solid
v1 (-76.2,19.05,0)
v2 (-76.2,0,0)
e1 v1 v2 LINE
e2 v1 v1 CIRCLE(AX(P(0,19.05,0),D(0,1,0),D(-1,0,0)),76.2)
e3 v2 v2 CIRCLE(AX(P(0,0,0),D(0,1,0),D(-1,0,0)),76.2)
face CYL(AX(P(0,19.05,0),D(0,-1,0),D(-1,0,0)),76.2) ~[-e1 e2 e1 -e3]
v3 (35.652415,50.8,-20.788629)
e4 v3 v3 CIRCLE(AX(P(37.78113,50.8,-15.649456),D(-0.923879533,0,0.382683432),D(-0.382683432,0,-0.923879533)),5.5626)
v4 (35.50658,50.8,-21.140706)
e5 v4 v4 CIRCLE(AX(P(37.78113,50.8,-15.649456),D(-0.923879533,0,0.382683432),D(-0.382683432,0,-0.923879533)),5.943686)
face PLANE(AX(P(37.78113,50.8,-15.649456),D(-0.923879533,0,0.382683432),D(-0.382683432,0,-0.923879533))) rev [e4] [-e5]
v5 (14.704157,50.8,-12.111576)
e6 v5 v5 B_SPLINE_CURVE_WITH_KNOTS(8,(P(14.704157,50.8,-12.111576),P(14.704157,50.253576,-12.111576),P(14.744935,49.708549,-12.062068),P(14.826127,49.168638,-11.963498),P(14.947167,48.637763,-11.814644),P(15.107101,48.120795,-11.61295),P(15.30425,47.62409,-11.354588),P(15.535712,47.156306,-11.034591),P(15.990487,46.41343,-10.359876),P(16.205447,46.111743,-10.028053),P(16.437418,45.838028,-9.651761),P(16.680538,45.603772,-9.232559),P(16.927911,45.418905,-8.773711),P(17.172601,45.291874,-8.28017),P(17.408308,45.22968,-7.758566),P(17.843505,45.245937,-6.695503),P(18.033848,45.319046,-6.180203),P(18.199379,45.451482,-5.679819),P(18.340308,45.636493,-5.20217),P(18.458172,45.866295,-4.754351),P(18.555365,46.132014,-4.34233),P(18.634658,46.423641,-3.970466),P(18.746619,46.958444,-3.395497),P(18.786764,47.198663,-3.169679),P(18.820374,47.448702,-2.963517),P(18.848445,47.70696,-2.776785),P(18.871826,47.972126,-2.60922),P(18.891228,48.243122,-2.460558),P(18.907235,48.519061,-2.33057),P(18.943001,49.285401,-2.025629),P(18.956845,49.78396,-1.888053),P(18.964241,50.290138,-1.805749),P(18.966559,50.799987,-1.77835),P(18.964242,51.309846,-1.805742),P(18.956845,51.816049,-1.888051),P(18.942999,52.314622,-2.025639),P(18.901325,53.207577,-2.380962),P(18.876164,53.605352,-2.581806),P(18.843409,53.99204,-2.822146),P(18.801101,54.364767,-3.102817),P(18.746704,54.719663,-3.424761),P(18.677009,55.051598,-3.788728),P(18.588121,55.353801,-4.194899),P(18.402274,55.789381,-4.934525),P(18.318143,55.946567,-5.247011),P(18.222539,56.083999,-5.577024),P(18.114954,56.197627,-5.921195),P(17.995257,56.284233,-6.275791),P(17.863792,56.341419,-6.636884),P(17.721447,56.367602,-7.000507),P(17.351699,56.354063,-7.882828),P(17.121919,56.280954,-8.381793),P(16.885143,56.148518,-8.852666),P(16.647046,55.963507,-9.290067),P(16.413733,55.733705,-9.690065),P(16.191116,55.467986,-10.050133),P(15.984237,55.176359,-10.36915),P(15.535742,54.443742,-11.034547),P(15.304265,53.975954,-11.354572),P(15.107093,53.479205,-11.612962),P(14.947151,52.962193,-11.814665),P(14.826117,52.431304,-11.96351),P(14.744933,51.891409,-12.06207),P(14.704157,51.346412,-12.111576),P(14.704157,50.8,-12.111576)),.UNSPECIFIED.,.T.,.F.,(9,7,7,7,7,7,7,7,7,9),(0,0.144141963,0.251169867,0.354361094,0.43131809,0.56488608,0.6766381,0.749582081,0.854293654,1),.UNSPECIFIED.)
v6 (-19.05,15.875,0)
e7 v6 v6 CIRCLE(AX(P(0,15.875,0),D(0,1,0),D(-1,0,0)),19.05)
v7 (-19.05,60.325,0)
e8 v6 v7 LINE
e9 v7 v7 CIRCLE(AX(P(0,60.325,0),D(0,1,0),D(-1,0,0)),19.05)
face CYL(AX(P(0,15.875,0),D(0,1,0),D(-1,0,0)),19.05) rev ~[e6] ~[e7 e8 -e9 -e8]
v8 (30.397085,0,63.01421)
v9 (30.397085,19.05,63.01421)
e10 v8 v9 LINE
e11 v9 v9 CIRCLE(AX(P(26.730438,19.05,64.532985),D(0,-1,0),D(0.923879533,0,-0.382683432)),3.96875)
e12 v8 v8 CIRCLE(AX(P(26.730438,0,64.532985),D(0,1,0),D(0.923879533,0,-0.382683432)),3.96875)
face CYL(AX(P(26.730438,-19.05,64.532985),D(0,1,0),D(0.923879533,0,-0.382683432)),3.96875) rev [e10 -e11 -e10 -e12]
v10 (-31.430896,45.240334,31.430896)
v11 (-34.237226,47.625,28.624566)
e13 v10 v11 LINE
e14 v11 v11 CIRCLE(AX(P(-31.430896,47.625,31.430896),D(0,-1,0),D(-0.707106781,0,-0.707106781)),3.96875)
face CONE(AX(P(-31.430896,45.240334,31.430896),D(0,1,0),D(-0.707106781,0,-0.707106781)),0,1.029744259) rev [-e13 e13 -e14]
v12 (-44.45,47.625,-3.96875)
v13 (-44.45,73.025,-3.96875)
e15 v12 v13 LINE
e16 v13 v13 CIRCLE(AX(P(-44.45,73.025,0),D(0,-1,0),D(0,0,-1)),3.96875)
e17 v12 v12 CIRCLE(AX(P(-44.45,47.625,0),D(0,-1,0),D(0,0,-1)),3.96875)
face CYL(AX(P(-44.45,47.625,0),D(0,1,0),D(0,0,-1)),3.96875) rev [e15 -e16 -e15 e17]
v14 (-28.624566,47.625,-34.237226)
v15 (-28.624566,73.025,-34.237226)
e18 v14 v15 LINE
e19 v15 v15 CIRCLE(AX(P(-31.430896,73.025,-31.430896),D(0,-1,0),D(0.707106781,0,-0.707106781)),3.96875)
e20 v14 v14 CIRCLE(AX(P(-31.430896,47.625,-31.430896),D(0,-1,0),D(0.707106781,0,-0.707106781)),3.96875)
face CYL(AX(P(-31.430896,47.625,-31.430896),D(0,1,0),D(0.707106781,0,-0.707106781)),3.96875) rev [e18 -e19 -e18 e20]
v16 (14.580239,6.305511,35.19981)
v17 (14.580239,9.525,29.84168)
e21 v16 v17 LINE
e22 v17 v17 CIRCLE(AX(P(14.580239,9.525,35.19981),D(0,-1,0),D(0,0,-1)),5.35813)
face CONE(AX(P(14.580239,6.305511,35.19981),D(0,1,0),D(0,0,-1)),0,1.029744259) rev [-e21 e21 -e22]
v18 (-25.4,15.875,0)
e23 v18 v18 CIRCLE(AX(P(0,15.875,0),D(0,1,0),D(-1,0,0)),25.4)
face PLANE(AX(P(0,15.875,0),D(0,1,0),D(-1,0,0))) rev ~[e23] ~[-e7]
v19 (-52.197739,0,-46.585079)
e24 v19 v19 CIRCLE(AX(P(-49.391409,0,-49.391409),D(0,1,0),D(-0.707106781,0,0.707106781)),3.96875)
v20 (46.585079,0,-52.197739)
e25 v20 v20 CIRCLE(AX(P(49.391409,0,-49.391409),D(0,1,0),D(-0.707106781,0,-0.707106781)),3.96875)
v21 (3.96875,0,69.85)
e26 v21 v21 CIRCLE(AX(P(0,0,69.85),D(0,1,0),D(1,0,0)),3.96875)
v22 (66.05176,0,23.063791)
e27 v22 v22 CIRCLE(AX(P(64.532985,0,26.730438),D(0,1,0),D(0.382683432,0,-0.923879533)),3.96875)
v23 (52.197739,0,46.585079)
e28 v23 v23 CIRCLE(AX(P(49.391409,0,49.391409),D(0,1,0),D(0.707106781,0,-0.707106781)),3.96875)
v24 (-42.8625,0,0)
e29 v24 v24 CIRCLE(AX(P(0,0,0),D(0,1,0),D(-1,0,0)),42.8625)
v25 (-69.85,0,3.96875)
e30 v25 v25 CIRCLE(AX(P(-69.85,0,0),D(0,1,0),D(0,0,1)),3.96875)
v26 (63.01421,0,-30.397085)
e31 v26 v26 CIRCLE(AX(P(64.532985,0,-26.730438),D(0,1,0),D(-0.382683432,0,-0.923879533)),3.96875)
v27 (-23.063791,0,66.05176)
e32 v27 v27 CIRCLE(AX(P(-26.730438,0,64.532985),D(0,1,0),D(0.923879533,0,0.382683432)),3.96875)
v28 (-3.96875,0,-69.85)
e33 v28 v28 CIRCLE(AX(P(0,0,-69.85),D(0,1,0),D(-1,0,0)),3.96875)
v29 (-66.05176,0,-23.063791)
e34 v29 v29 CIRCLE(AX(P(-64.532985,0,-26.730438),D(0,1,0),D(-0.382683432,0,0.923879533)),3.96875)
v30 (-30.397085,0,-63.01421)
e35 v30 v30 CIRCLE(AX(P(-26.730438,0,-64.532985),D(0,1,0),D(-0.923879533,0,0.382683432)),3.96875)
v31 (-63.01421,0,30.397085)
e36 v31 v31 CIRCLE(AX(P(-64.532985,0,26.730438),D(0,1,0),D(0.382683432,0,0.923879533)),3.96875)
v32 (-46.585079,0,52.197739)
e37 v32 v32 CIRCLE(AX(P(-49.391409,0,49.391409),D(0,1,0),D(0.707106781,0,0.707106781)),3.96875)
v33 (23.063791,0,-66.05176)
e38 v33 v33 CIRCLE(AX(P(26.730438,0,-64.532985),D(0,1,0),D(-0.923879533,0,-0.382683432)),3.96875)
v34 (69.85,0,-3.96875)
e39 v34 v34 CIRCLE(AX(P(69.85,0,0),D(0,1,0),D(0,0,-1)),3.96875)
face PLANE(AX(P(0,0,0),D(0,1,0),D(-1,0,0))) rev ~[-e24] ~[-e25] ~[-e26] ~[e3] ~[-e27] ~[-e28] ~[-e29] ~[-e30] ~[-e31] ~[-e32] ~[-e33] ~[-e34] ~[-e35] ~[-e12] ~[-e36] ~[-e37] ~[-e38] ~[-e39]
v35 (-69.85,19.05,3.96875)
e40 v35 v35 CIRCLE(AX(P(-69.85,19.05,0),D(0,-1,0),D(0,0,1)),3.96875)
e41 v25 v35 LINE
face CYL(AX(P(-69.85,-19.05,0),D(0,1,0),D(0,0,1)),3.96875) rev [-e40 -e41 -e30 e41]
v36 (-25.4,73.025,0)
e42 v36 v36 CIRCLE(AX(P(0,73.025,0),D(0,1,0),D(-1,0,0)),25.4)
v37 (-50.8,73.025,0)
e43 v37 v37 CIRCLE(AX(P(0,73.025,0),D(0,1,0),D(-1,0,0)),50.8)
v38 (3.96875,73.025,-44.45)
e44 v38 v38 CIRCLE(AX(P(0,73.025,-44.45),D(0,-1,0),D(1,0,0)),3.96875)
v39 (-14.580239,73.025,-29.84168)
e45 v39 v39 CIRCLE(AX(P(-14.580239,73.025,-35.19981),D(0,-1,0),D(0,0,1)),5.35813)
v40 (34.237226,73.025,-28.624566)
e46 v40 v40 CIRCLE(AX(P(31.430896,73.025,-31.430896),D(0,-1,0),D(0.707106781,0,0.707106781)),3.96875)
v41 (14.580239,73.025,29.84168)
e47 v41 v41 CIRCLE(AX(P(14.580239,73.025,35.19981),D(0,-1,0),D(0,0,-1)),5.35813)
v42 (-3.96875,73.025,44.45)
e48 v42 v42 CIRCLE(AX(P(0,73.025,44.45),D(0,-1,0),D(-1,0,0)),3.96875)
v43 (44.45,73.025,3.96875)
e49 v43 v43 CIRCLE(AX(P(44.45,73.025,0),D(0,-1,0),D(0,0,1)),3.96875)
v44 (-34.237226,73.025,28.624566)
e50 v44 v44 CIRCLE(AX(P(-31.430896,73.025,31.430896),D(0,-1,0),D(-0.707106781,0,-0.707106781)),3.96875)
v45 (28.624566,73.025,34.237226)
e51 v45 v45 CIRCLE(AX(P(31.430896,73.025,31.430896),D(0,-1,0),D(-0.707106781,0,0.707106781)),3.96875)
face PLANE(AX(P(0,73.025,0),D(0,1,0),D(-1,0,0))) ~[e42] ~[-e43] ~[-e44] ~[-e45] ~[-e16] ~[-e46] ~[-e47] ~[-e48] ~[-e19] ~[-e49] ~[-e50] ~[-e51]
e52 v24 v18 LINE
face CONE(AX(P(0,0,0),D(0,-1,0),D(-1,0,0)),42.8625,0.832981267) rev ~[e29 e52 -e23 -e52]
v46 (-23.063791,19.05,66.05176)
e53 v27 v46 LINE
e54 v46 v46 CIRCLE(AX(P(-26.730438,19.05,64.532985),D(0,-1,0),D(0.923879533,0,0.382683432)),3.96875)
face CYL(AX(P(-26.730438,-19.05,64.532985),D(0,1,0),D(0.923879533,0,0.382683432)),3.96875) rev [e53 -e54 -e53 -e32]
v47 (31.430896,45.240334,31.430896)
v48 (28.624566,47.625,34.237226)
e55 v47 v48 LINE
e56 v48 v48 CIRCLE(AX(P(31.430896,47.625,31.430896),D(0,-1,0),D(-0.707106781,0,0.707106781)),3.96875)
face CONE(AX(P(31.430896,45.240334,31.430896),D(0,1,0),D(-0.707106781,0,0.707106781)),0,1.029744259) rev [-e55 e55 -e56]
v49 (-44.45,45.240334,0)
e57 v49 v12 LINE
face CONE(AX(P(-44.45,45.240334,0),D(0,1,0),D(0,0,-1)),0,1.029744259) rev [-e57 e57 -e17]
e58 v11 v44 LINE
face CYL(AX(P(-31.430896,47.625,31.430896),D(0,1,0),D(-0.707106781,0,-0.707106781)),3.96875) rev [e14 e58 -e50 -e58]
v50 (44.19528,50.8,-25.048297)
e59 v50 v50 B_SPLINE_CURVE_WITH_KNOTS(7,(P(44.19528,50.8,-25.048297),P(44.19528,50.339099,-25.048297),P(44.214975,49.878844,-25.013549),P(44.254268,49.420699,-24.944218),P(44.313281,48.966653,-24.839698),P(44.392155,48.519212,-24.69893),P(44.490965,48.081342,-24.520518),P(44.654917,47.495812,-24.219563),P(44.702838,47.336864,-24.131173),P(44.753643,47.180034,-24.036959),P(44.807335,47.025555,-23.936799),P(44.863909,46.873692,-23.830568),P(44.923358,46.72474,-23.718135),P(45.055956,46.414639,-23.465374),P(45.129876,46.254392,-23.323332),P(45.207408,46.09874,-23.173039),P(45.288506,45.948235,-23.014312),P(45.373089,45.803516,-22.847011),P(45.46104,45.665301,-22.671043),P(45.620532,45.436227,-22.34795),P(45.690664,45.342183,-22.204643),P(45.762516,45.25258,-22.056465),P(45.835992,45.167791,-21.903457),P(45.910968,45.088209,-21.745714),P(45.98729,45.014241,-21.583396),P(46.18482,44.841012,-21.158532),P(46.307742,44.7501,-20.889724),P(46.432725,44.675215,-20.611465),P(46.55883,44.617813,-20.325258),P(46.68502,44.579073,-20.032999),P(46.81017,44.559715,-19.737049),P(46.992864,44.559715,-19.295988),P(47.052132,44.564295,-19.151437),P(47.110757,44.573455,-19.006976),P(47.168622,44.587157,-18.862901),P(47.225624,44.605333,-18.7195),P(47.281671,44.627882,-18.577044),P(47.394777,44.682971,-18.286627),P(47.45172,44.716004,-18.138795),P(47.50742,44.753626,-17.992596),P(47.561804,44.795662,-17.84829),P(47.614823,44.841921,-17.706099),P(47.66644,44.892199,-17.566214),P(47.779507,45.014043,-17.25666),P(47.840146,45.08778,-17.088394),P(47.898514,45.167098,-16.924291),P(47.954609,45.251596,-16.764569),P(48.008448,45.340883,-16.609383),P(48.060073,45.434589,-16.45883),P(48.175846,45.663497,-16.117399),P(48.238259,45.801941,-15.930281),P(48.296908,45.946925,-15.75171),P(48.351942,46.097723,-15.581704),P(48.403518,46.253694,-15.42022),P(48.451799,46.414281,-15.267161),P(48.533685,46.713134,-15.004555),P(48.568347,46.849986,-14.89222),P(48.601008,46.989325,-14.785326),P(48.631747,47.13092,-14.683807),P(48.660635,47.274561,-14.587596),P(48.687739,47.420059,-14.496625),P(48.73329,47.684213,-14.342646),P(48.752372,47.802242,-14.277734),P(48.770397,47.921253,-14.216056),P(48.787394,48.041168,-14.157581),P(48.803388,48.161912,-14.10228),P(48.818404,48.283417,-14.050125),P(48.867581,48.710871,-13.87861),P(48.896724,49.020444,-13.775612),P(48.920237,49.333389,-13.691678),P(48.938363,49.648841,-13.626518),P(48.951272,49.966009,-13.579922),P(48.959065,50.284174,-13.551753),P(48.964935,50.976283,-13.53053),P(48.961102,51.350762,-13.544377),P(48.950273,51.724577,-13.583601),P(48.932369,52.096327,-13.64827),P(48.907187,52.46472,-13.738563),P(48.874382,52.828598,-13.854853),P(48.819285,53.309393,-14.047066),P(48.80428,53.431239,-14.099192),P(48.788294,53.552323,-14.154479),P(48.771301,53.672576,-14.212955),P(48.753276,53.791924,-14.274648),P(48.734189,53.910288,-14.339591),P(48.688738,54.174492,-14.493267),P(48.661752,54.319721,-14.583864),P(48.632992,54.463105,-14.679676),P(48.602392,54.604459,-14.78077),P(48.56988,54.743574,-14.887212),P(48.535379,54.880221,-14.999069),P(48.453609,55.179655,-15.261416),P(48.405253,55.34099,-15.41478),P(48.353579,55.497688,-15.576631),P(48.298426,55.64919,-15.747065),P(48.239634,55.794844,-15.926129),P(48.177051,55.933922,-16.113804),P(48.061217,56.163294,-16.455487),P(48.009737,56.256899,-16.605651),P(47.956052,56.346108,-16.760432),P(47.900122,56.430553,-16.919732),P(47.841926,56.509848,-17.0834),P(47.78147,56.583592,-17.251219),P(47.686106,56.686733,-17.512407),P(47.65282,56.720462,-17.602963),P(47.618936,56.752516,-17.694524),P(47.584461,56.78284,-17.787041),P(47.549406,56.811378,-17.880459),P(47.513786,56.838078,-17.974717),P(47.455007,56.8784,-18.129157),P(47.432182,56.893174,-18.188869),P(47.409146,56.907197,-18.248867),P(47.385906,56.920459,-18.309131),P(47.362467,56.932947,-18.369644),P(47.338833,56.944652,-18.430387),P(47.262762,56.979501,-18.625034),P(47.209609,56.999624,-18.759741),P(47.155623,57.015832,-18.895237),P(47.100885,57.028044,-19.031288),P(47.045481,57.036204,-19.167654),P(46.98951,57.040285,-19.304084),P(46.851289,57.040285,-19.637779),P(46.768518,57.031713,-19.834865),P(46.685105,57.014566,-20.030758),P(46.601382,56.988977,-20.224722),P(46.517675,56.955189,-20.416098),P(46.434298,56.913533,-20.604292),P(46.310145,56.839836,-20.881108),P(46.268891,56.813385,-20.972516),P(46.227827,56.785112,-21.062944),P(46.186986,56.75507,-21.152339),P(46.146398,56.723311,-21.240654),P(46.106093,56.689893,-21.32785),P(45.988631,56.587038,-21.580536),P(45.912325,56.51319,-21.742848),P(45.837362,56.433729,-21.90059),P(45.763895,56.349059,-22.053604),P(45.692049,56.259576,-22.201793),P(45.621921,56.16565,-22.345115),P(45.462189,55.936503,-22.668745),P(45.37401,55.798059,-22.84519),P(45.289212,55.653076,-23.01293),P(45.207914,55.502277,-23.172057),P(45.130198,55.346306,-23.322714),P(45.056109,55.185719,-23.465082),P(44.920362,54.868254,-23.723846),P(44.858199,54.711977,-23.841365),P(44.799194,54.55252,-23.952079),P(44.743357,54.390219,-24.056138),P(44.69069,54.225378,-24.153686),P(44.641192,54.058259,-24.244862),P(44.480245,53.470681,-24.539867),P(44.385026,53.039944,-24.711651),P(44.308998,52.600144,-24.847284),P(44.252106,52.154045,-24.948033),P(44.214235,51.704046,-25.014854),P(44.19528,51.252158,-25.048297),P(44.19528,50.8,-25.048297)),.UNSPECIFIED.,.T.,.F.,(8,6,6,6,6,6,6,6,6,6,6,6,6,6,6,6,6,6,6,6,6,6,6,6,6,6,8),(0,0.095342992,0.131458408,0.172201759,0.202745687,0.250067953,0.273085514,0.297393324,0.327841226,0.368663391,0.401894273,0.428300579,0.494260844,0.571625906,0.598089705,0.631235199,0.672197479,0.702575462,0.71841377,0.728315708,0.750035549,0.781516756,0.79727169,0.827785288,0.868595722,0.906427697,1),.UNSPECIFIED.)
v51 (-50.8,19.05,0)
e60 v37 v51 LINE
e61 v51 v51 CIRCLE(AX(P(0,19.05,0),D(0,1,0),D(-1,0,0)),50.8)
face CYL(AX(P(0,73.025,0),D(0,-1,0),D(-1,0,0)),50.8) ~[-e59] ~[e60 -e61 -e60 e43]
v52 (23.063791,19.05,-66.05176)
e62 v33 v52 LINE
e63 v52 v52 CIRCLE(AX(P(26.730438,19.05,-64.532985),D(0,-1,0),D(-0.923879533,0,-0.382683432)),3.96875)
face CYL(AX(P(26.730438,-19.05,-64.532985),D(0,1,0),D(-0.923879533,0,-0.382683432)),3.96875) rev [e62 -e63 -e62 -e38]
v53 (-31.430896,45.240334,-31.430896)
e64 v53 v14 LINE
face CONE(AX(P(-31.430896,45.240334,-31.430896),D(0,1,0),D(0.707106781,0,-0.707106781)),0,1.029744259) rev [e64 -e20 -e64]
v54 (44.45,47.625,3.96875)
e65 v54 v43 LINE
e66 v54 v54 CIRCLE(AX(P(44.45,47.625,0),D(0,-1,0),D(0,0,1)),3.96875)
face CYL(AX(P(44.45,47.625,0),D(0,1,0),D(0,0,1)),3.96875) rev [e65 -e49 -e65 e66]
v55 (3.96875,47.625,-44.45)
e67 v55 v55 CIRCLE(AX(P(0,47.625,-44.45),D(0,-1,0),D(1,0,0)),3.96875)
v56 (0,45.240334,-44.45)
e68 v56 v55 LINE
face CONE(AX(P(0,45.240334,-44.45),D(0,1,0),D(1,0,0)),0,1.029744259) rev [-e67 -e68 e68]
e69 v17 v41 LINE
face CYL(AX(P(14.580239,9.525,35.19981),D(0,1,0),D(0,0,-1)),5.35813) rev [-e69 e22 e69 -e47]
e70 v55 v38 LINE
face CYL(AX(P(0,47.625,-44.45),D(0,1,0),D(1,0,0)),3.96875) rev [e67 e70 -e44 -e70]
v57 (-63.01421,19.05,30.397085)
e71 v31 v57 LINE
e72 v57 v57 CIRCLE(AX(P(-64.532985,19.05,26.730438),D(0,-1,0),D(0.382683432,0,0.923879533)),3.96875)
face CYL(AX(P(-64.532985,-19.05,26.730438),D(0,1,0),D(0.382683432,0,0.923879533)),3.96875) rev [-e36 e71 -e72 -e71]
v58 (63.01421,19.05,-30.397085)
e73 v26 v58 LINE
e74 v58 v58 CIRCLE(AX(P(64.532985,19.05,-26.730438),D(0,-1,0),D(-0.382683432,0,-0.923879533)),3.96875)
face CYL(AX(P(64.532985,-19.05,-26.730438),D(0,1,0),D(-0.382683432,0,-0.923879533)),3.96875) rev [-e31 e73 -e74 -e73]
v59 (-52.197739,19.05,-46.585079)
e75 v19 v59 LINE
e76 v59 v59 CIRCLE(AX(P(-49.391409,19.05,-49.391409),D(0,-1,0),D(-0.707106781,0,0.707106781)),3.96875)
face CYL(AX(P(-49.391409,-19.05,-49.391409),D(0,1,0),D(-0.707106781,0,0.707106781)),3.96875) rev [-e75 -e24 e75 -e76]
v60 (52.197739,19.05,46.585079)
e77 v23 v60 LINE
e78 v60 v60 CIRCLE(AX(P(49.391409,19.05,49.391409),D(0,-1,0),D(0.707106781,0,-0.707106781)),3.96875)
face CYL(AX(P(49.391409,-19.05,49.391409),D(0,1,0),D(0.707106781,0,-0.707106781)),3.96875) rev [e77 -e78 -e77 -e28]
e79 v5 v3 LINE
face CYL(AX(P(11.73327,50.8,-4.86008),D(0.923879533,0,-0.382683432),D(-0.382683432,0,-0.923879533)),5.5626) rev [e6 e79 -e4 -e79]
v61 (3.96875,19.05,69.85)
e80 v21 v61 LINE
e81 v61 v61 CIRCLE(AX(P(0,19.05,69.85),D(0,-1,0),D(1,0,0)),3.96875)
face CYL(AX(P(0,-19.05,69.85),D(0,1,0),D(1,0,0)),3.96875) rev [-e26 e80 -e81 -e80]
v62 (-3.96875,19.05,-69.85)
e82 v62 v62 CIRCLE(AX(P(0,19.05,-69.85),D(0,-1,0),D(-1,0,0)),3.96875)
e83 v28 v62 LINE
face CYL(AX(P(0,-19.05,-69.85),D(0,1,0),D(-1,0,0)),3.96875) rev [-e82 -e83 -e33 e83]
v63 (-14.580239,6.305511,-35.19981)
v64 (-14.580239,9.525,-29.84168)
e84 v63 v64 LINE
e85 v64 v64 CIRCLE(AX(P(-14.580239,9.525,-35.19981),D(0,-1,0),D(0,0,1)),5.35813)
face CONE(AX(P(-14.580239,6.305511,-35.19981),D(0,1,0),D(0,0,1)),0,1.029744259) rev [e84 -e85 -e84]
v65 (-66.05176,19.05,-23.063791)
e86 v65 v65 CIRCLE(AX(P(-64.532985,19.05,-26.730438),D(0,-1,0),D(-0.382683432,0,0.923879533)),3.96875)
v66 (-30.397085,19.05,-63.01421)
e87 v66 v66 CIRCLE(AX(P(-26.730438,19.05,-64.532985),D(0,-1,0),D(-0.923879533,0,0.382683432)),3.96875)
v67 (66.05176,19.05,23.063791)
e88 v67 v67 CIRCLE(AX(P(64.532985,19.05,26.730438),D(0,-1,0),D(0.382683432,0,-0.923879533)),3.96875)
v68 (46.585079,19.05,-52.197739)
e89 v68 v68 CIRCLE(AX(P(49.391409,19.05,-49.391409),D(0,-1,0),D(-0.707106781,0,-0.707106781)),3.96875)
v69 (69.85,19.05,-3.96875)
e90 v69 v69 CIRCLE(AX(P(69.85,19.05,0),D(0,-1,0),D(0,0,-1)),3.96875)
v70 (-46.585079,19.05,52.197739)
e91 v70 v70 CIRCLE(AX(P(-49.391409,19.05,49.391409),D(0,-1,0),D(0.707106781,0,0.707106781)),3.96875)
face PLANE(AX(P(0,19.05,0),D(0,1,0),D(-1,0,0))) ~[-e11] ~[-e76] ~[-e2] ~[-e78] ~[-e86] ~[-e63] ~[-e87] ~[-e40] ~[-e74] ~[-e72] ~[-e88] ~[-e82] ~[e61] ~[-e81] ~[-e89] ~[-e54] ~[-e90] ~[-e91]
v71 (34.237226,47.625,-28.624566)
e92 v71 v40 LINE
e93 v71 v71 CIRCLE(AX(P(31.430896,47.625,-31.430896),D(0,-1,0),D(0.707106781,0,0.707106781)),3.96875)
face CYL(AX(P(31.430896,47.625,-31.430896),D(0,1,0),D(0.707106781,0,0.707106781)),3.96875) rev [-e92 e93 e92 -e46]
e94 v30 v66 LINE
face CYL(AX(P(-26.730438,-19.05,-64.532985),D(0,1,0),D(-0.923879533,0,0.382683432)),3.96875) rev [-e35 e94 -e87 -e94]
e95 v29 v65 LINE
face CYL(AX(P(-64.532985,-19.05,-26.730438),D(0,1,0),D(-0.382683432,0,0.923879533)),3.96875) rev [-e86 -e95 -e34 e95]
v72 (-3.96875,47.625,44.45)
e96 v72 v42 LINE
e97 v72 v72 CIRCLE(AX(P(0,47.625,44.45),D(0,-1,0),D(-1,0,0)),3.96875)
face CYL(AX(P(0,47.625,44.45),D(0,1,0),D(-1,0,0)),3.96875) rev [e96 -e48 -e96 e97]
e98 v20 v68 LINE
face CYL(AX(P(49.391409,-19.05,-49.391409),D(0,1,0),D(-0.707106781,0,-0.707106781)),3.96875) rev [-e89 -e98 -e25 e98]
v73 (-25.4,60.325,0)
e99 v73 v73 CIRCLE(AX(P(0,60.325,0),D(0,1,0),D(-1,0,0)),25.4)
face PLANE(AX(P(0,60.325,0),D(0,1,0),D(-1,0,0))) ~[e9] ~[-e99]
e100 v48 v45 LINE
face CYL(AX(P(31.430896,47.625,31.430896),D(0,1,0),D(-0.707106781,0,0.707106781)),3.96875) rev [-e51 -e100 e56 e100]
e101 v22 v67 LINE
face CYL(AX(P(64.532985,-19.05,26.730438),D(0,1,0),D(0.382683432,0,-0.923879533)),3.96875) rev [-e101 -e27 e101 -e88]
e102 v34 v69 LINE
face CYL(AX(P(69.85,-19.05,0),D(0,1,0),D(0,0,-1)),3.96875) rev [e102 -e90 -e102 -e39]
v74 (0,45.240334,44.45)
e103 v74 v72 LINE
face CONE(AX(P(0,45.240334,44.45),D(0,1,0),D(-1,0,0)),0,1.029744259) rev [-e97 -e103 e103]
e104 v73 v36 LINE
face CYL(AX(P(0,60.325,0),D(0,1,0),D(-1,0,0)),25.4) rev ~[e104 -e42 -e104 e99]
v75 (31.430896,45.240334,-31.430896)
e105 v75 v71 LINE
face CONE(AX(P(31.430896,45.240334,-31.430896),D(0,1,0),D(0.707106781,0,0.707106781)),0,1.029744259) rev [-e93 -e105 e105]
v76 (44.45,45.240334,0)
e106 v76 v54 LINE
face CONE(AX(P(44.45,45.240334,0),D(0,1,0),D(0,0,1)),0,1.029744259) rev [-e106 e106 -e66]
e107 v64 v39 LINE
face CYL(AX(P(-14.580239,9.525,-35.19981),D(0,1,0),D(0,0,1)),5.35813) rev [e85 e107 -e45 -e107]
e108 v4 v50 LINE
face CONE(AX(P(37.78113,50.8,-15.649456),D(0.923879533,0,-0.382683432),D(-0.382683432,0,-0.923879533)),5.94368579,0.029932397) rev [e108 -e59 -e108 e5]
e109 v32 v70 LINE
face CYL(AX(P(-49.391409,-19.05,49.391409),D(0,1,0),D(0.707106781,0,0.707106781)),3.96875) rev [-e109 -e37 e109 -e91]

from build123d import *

# Parameters (mm, degrees)
CIRPATTERN1_COUNT = 16
CIRPATTERN2_COUNT = 8
CIRPATTERN3_COUNT = 2


with BuildPart() as part:
    # Sketch1 → Revolve1 (revolve)
    with BuildSketch(Plane.XY):
        Polygon((-76.2, 19.05), (-76.2, 0), (-42.8625, 0), (-25.4, 15.875), (-19.05, 15.875), (-19.05, 60.325), (-25.4, 60.325), (-25.4, 73.025), (-50.8, 73.025), (-50.8, 19.05), align=None)
    revolve(axis=Axis((0, 0, 0), (0, 1, 0)))

    # Sketch5 → 5/16 (0.3125) Diameter Hole1 (revolve, cut)
    with BuildSketch(Plane(origin=(-69.85, 19.05, 0), x_dir=(0, 0, 1), z_dir=(1, 0, 0))):
        Polygon((0, 0), (0, 40.484665582), (3.96875, 38.1), (3.96875, 0), align=None)
    f_5_16_0_3125_diameter_hole1 = revolve(axis=Axis((-69.85, 25.4, 0), (0, -1, 0)), mode=Mode.SUBTRACT)

    # CirPattern1: 5/16 (0.3125) Diameter Hole1 ×16 about axis
    cirpattern1_axis = Axis((0, 0.635, 0), (0, -1, 0))
    for i in range(1, CIRPATTERN1_COUNT):
        add(f_5_16_0_3125_diameter_hole1.rotate(cirpattern1_axis, i * 360 / CIRPATTERN1_COUNT), mode=Mode.SUBTRACT)

    # Sketch7 → 5/16 (0.3125) Diameter Hole2 (revolve, cut)
    with BuildSketch(Plane(origin=(44.45, 73.025, 0), x_dir=(0, 0, 1), z_dir=(1, 0, 0))):
        Polygon((0, 0), (0, 27.784665582), (3.96875, 25.4), (3.96875, 0), align=None)
    f_5_16_0_3125_diameter_hole2 = revolve(axis=Axis((44.45, 79.375, 0), (0, -1, 0)), mode=Mode.SUBTRACT)

    # CirPattern2: 5/16 (0.3125) Diameter Hole2 ×8 about axis
    cirpattern2_axis = Axis((0, 0, 0), (0, -1, 0))
    for i in range(1, CIRPATTERN2_COUNT):
        add(f_5_16_0_3125_diameter_hole2.rotate(cirpattern2_axis, i * 360 / CIRPATTERN2_COUNT), mode=Mode.SUBTRACT)

    # Sketch9 → 1/4 NPT Tapped Hole1 (revolve, cut)
    with BuildSketch(Plane(origin=(46.933080252, 50.8, -19.440318364), x_dir=(-0.38268343236509056, 0, -0.9238795325112864), z_dir=(0, 1, 0))):
        Polygon((0, 0), (0, 41.442347279), (5.5626, 38.1), (5.5626, 9.906), (5.943685794, 9.906), (6.2402847, 0), align=None)
    revolve(axis=Axis((52.799715283, 50.8, -21.87035816), (-0.9238795325112865, 0, 0.38268343236509056)), mode=Mode.SUBTRACT)

    # Sketch13 → Tap Drill for 1/2-13 Tap1 (revolve, cut)
    with BuildSketch(Plane(origin=(-14.580238773, 73.025, -35.199810189), x_dir=(0, 0, 1), z_dir=(1, 0, 0))):
        Polygon((0, 0), (0, 66.719489309), (5.35813, 63.5), (5.35813, 0), align=None)
    tap_drill_for_1_2_13_tap1 = revolve(axis=Axis((-14.580238773, 79.375, -35.199810189), (0, -1, 0)), mode=Mode.SUBTRACT)

    # CirPattern3: Tap Drill for 1/2-13 Tap1 ×2 about axis
    cirpattern3_axis = Axis((0, 0, 0), (0, -1, 0))
    for i in range(1, CIRPATTERN3_COUNT):
        add(tap_drill_for_1_2_13_tap1.rotate(cirpattern3_axis, i * 360 / CIRPATTERN3_COUNT), mode=Mode.SUBTRACT)


solid = part.part
